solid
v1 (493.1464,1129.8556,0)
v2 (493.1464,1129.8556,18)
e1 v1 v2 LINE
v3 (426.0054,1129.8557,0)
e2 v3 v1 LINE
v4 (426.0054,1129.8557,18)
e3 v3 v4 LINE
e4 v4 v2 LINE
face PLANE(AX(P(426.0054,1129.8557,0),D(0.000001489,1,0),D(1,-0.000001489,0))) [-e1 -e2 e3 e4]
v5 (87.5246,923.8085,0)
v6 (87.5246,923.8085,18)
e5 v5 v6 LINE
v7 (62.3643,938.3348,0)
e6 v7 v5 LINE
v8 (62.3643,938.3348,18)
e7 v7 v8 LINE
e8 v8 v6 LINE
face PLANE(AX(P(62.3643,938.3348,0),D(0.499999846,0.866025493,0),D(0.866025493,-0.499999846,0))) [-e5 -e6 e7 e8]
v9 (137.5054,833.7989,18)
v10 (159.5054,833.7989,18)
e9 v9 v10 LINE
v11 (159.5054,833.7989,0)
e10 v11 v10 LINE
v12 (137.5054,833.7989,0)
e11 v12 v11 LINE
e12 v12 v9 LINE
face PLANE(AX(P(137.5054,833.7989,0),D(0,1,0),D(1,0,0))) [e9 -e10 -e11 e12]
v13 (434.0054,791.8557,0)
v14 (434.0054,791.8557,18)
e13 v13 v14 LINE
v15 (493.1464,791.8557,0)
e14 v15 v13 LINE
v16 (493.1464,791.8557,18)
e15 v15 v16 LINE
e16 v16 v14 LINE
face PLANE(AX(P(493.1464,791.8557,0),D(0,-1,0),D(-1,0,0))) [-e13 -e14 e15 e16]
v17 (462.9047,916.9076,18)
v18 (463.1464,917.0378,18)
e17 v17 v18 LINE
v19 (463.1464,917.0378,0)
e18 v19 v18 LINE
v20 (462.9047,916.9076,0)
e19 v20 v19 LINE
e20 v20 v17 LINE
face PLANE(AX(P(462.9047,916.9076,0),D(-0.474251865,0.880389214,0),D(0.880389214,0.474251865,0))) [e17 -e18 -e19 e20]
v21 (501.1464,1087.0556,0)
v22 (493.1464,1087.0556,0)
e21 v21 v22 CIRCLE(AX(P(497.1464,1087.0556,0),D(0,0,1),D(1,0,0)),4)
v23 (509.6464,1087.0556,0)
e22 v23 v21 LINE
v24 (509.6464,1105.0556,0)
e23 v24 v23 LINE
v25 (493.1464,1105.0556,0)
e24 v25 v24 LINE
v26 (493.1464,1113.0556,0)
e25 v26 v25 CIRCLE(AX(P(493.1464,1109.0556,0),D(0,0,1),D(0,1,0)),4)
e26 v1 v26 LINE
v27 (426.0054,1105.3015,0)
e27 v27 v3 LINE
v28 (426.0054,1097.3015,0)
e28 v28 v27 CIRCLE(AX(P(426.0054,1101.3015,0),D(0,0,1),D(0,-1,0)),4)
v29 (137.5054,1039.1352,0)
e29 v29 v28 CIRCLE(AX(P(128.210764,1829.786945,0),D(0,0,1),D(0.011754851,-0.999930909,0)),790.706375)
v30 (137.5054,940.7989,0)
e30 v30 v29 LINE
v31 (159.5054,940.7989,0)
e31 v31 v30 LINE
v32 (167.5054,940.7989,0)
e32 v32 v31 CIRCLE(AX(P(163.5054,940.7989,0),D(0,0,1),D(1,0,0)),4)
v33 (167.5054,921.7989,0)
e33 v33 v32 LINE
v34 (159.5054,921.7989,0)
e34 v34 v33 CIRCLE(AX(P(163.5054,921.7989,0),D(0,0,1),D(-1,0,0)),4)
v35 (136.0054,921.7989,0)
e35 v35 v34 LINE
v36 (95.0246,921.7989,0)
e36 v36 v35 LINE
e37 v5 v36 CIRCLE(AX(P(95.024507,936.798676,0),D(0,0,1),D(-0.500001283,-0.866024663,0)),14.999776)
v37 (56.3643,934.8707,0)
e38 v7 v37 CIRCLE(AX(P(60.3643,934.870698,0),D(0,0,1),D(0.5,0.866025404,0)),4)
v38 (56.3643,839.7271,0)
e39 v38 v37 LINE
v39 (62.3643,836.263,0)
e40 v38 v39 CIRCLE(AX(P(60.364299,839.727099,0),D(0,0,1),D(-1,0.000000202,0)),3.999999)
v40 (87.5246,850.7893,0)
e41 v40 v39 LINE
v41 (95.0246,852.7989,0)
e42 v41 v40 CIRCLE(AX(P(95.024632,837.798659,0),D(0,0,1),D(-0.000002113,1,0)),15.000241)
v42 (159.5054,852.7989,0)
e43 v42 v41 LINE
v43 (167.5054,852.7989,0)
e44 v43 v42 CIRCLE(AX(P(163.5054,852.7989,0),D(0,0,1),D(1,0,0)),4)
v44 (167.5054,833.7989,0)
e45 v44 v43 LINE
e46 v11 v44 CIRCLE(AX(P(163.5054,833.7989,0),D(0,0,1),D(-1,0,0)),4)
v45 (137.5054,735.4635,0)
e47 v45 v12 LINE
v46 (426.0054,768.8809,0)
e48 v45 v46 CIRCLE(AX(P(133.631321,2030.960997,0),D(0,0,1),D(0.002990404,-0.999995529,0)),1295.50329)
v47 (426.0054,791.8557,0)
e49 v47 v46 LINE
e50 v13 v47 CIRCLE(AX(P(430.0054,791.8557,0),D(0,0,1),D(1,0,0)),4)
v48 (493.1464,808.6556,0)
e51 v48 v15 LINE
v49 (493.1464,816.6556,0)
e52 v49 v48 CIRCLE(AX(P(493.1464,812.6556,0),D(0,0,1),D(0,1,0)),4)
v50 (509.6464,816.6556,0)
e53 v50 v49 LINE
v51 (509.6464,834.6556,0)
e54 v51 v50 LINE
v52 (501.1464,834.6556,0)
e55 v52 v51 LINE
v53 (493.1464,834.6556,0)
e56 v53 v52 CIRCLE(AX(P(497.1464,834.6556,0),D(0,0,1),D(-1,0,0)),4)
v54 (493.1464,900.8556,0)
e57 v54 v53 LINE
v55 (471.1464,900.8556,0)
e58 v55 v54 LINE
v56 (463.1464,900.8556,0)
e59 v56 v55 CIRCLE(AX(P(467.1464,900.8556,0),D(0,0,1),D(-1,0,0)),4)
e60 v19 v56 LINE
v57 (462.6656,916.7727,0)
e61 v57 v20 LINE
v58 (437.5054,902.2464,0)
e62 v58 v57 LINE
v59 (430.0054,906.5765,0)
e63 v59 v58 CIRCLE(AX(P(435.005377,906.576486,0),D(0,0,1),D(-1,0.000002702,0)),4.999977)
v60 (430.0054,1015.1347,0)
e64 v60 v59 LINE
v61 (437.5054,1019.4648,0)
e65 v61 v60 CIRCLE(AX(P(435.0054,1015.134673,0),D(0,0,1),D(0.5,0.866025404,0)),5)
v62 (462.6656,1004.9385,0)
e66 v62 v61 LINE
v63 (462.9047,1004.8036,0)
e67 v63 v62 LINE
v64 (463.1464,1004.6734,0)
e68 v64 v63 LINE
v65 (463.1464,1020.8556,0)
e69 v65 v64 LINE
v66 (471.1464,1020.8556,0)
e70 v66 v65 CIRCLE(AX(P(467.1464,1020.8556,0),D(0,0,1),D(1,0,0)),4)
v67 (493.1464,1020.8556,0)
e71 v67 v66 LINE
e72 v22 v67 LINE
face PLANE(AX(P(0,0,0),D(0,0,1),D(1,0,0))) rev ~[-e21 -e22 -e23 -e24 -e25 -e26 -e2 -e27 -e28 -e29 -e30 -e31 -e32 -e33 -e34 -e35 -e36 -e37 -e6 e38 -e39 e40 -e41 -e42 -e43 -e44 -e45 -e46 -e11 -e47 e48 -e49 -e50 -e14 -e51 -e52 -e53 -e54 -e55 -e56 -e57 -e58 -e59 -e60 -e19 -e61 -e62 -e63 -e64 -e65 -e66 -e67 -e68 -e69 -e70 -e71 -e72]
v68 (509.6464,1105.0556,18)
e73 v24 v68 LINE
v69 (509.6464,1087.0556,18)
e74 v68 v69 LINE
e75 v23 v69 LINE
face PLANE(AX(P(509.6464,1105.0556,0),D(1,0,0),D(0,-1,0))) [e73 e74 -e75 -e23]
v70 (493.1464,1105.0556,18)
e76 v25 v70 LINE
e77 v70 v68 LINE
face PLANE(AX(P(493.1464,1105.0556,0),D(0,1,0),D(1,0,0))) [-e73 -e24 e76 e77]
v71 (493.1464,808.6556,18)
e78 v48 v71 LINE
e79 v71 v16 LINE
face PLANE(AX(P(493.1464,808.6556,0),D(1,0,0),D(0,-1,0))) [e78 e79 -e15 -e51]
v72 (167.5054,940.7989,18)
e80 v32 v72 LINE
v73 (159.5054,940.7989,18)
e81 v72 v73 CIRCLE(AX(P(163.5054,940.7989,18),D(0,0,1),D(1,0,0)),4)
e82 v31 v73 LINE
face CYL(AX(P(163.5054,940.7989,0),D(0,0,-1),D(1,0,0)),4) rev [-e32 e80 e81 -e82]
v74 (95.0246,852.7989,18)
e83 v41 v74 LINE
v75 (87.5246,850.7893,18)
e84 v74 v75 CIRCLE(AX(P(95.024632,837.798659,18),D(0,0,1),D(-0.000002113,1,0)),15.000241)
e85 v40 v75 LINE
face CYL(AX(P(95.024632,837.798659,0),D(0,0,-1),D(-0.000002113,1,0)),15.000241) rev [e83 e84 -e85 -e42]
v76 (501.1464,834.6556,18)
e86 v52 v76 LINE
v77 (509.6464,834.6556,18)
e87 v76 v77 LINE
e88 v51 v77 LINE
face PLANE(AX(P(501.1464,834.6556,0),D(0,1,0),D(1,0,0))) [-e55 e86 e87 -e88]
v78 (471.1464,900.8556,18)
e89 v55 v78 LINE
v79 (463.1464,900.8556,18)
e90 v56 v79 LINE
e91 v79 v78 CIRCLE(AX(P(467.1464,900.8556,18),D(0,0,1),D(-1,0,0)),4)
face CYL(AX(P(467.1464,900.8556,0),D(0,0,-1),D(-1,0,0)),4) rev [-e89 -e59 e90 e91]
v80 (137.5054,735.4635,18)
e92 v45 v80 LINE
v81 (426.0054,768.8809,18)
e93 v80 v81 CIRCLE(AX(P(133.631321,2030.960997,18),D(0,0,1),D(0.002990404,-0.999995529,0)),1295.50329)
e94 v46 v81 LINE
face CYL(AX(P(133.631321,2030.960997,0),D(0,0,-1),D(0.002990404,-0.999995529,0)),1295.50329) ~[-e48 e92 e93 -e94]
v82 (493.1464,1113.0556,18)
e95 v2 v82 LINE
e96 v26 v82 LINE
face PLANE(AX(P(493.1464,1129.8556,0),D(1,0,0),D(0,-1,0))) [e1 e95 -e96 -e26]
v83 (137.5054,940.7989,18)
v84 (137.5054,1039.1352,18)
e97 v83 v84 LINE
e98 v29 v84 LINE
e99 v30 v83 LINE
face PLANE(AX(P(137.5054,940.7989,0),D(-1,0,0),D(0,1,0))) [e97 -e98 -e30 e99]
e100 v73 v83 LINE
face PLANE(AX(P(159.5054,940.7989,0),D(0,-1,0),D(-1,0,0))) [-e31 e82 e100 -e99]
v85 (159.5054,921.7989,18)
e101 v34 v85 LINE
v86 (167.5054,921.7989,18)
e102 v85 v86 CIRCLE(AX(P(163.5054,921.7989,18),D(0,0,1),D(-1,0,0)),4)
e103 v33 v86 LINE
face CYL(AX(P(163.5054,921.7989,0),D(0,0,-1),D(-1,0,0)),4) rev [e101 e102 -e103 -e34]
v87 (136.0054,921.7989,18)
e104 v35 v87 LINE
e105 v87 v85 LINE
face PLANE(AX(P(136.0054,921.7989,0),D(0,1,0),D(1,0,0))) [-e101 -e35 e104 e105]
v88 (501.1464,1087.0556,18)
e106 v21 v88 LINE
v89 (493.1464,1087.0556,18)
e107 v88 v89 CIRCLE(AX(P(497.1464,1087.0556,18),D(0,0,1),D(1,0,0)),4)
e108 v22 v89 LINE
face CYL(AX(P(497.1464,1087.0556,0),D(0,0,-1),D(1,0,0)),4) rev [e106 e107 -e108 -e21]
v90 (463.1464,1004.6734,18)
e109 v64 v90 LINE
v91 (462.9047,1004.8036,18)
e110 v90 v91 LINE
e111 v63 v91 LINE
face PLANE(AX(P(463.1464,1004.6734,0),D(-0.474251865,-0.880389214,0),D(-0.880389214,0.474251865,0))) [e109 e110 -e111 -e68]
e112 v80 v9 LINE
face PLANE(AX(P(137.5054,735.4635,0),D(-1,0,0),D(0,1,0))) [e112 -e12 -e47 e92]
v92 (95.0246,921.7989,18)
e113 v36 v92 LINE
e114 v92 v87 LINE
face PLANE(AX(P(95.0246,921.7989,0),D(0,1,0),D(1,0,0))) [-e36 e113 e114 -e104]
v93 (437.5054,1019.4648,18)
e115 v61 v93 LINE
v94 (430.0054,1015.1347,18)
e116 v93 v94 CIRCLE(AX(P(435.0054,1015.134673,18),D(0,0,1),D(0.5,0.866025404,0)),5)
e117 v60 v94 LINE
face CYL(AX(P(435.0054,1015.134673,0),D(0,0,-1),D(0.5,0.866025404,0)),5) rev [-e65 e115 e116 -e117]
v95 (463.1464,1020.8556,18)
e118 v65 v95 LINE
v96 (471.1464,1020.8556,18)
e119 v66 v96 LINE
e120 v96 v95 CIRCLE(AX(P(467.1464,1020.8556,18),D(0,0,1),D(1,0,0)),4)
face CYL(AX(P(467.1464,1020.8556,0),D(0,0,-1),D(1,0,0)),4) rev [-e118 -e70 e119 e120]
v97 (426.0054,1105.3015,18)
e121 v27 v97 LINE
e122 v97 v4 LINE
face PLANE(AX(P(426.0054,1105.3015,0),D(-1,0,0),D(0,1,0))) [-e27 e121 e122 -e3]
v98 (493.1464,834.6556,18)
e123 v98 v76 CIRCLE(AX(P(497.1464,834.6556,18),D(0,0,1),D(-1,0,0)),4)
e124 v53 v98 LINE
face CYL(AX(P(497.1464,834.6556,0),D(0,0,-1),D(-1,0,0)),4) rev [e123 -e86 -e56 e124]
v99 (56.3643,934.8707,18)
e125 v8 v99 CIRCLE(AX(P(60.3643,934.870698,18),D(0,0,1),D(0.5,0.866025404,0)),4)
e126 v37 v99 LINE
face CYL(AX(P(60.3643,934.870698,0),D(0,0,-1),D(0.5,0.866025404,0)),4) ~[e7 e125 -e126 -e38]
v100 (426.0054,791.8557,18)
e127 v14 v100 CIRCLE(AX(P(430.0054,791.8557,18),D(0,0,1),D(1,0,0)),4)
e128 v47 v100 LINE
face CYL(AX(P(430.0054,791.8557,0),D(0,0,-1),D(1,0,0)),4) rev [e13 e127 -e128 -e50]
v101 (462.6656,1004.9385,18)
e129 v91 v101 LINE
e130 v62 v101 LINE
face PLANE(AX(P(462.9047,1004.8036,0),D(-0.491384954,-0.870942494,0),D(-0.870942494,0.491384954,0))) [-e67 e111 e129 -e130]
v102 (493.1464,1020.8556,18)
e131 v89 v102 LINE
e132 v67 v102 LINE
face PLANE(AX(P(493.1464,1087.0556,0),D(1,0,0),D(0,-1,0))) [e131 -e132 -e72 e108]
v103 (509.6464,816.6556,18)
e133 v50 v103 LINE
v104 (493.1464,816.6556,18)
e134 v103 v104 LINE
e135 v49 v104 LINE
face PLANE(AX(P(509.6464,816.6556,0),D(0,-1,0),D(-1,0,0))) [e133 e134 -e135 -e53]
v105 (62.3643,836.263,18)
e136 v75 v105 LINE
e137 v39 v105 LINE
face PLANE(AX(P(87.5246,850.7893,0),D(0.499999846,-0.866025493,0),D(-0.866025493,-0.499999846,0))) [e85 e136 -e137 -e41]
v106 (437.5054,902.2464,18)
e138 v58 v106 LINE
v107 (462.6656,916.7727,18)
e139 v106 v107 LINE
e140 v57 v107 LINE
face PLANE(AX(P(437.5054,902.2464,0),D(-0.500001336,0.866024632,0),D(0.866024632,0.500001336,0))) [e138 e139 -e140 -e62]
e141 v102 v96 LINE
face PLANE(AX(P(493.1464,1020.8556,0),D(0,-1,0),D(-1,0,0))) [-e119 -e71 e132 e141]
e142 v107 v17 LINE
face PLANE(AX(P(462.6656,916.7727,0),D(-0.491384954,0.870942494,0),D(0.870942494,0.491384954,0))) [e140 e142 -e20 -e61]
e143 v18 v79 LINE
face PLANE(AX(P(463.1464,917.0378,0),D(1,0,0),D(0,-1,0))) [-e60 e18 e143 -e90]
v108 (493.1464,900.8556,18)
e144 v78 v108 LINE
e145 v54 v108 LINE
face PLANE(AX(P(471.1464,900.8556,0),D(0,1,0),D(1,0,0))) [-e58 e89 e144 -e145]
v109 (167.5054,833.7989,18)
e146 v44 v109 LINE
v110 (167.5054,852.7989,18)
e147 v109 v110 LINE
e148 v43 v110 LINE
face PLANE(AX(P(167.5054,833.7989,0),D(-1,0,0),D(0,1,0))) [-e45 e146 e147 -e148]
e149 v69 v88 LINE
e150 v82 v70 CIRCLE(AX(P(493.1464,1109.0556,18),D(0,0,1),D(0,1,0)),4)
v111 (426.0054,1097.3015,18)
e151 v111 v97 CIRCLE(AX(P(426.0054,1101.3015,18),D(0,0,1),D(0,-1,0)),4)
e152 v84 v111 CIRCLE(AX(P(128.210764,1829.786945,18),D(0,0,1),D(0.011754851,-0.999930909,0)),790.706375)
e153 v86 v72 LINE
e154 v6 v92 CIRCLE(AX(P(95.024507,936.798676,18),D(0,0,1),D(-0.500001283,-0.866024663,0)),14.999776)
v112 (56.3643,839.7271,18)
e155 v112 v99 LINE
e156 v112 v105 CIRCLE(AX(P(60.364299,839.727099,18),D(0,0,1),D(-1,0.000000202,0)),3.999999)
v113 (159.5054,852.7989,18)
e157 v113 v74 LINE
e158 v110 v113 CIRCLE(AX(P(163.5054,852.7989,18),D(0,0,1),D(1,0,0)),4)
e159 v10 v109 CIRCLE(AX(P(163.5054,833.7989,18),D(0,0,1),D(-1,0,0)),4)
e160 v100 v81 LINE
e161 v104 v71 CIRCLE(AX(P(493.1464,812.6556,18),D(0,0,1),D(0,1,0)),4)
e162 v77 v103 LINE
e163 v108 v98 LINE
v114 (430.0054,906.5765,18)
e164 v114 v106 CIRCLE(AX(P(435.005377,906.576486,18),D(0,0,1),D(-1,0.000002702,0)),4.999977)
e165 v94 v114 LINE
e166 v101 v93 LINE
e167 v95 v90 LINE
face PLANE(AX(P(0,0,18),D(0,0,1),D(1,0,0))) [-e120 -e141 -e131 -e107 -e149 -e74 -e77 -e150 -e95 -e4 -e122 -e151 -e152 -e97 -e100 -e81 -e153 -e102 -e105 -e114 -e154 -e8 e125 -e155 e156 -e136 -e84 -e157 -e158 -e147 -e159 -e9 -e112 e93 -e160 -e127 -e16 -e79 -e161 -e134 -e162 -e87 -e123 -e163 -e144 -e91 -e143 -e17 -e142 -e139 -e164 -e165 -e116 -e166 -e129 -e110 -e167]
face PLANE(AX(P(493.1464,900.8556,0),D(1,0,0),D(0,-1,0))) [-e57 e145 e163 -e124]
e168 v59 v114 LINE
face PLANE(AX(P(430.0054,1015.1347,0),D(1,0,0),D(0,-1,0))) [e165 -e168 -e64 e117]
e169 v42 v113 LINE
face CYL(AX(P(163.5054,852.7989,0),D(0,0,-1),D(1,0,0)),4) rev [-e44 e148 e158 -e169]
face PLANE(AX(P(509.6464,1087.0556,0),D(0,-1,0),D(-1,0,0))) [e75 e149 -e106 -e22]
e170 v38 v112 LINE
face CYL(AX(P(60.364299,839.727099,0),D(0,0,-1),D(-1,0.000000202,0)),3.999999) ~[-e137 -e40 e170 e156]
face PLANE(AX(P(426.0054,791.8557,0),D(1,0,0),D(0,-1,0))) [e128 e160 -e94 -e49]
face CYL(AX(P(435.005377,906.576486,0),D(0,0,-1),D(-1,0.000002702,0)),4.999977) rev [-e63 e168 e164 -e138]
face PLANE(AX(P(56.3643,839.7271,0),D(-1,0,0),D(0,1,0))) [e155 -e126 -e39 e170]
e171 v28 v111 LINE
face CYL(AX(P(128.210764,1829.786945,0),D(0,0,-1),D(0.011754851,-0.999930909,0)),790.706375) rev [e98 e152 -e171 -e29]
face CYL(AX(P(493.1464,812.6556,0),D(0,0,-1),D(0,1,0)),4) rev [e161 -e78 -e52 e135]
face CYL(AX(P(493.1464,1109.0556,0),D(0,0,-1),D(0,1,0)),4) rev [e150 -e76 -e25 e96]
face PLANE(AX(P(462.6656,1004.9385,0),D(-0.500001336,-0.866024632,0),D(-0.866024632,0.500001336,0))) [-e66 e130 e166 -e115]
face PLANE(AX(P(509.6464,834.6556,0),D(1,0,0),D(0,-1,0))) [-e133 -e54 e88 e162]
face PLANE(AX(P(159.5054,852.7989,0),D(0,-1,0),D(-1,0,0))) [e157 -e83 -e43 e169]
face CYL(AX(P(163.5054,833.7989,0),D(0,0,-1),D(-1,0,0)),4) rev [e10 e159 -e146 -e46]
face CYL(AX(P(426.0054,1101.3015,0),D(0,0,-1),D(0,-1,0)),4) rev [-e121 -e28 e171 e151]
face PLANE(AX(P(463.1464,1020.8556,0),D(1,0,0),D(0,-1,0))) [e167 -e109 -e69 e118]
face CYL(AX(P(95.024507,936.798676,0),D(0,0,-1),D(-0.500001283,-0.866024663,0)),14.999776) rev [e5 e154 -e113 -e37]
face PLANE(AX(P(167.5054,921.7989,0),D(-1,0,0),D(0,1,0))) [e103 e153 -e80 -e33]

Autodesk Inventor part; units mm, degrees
ref_plane "YZ Plane" through (0, 0, 0) normal (1, 0, 0) x (0, 1, 0)
ref_plane "XZ Plane" through (0, 0, 0) normal (0, 1, 0) x (-1, 0, 0)
ref_plane "XY Plane" through (0, 0, 0) normal (0, 0, 1) x (1, 0, 0)
sketch "CONTOURS" plane through (0, 0, 0) normal (0, 0, 1) x (1, 0, 0)
  arc A0 (167.5054, 852.7989) -> (159.5054, 852.7989) centre (163.5054, 852.7989) ccw
  line L0 (159.5054, 852.7989) -> (95.0246, 852.7989)
  arc A1 (95.0246, 852.7989) -> (87.5246, 850.7893) centre (95.0246, 837.7989) ccw
  line L1 (87.5246, 850.7893) -> (62.3643, 836.263)
  arc A2 (56.3643, 839.7271) -> (62.3643, 836.263) centre (60.3643, 839.7271) ccw
  line L2 (56.3643, 839.7271) -> (56.3643, 934.8707)
  arc A3 (62.3643, 938.3348) -> (56.3643, 934.8707) centre (60.3643, 934.8707) ccw
  line L3 (62.3643, 938.3348) -> (87.5246, 923.8085)
  arc A4 (87.5246, 923.8085) -> (95.0246, 921.7989) centre (95.0246, 936.7989) ccw
  line L4 (95.0246, 921.7989) -> (136.0054, 921.7989)
  line L5 (136.0054, 921.7989) -> (159.5054, 921.7989)
  arc A5 (159.5054, 921.7989) -> (167.5054, 921.7989) centre (163.5054, 921.7989) ccw
  line L6 (167.5054, 921.7989) -> (167.5054, 940.7989)
  arc A6 (167.5054, 940.7989) -> (159.5054, 940.7989) centre (163.5054, 940.7989) ccw
  line L7 (159.5054, 940.7989) -> (137.5054, 940.7989)
  line L8 (137.5054, 940.7989) -> (137.5054, 1039.1352)
  arc A7 (137.5054, 1039.1352) -> (426.0054, 1097.3015) centre (128.2106, 1829.7885) ccw
  arc A8 (426.0054, 1097.3015) -> (426.0054, 1105.3015) centre (426.0054, 1101.3015) ccw
  line L9 (426.0054, 1105.3015) -> (426.0054, 1129.8557)
  line L10 (426.0054, 1129.8557) -> (493.1464, 1129.8556)
  line L11 (493.1464, 1129.8556) -> (493.1464, 1113.0556)
  arc A9 (493.1464, 1113.0556) -> (493.1464, 1105.0556) centre (493.1464, 1109.0556) ccw
  line L12 (493.1464, 1105.0556) -> (509.6464, 1105.0556)
  line L13 (509.6464, 1105.0556) -> (509.6464, 1087.0556)
  line L14 (509.6464, 1087.0556) -> (501.1464, 1087.0556)
  arc A10 (501.1464, 1087.0556) -> (493.1464, 1087.0556) centre (497.1464, 1087.0556) ccw
  line L15 (493.1464, 1087.0556) -> (493.1464, 1020.8556)
  line L16 (493.1464, 1020.8556) -> (471.1464, 1020.8556)
  arc A11 (471.1464, 1020.8556) -> (463.1464, 1020.8556) centre (467.1464, 1020.8556) ccw
  line L17 (463.1464, 1020.8556) -> (463.1464, 1004.6734)
  line L18 (463.1464, 1004.6734) -> (462.9047, 1004.8036)
  line L19 (462.9047, 1004.8036) -> (462.6656, 1004.9385)
  line L20 (462.6656, 1004.9385) -> (437.5054, 1019.4648)
  arc A12 (437.5054, 1019.4648) -> (430.0054, 1015.1347) centre (435.0054, 1015.1347) ccw
  line L21 (430.0054, 1015.1347) -> (430.0054, 906.5765)
  arc A13 (430.0054, 906.5765) -> (437.5054, 902.2464) centre (435.0054, 906.5765) ccw
  line L22 (437.5054, 902.2464) -> (462.6656, 916.7727)
  line L23 (462.6656, 916.7727) -> (462.9047, 916.9076)
  line L24 (462.9047, 916.9076) -> (463.1464, 917.0378)
  line L25 (463.1464, 917.0378) -> (463.1464, 900.8556)
  arc A14 (463.1464, 900.8556) -> (471.1464, 900.8556) centre (467.1464, 900.8556) ccw
  line L26 (471.1464, 900.8556) -> (493.1464, 900.8556)
  line L27 (493.1464, 900.8556) -> (493.1464, 834.6556)
  arc A15 (493.1464, 834.6556) -> (501.1464, 834.6556) centre (497.1464, 834.6556) ccw
  line L28 (501.1464, 834.6556) -> (509.6464, 834.6556)
  line L29 (509.6464, 834.6556) -> (509.6464, 816.6556)
  line L30 (509.6464, 816.6556) -> (493.1464, 816.6556)
  arc A16 (493.1464, 816.6556) -> (493.1464, 808.6556) centre (493.1464, 812.6556) ccw
  line L31 (493.1464, 808.6556) -> (493.1464, 791.8557)
  line L32 (493.1464, 791.8557) -> (434.0054, 791.8557)
  arc A17 (434.0054, 791.8557) -> (426.0054, 791.8557) centre (430.0054, 791.8557) ccw
  line L33 (426.0054, 791.8557) -> (426.0054, 768.8809)
  arc A18 (137.5054, 735.4635) -> (426.0054, 768.8809) centre (133.6317, 2030.9546) ccw
  line L34 (137.5054, 735.4635) -> (137.5054, 833.7989)
  line L35 (137.5054, 833.7989) -> (159.5054, 833.7989)
  arc A19 (159.5054, 833.7989) -> (167.5054, 833.7989) centre (163.5054, 833.7989) ccw
  line L36 (167.5054, 833.7989) -> (167.5054, 852.7989)
sketch "LETTERS" plane through (0, 0, 0) normal (0, 0, 1) x (1, 0, 0)
  line L0 (285.7416, 916.5238) -> (285.9594, 916.4912)
  line L1 (285.9594, 916.4912) -> (286.1742, 916.4519)
  line L2 (286.1742, 916.4519) -> (286.386, 916.4061)
  line L3 (286.386, 916.4061) -> (286.5947, 916.3537)
  line L4 (286.5947, 916.3537) -> (286.8003, 916.2951)
  line L5 (286.8003, 916.2951) -> (287.0028, 916.2304)
  line L6 (287.0028, 916.2304) -> (287.2021, 916.1595)
  line L7 (287.2021, 916.1595) -> (287.3982, 916.0828)
  line L8 (287.3982, 916.0828) -> (287.5911, 916.0003)
  line L9 (287.5911, 916.0003) -> (287.7807, 915.9122)
  line L10 (287.7807, 915.9122) -> (287.967, 915.8185)
  line L11 (287.967, 915.8185) -> (288.1499, 915.7195)
  line L12 (288.1499, 915.7195) -> (288.3295, 915.6152)
  line L13 (288.3295, 915.6152) -> (288.5057, 915.5058)
  line L14 (288.5057, 915.5058) -> (288.6784, 915.3914)
  line L15 (288.6784, 915.3914) -> (288.8477, 915.2722)
  line L16 (288.8477, 915.2722) -> (289.0135, 915.1482)
  line L17 (289.0135, 915.1482) -> (289.1757, 915.0197)
  line L18 (289.1757, 915.0197) -> (289.3343, 914.8867)
  line L19 (289.3343, 914.8867) -> (289.4894, 914.7494)
  line L20 (289.4894, 914.7494) -> (289.6408, 914.6079)
  line L21 (289.6408, 914.6079) -> (289.7885, 914.4624)
  line L22 (289.7885, 914.4624) -> (289.9325, 914.3129)
  line L23 (289.9325, 914.3129) -> (290.0728, 914.1596)
  line L24 (290.0728, 914.1596) -> (290.2093, 914.0027)
  line L25 (290.2093, 914.0027) -> (290.3419, 913.8423)
  line L26 (290.3419, 913.8423) -> (290.4708, 913.6784)
  line L27 (290.4708, 913.6784) -> (290.5957, 913.5113)
  line L28 (290.5957, 913.5113) -> (290.7168, 913.3411)
  line L29 (290.7168, 913.3411) -> (290.8339, 913.1679)
  line L30 (290.8339, 913.1679) -> (290.947, 912.9918)
  line L31 (290.947, 912.9918) -> (291.0561, 912.813)
  line L32 (291.0561, 912.813) -> (291.1611, 912.6315)
  line L33 (291.1611, 912.6315) -> (291.2621, 912.4476)
  line L34 (291.2621, 912.4476) -> (291.359, 912.2614)
  line L35 (291.359, 912.2614) -> (291.4517, 912.073)
  line L36 (291.4517, 912.073) -> (291.5402, 911.8825)
  line L37 (291.5402, 911.8825) -> (291.6245, 911.69)
  line L38 (291.6245, 911.69) -> (291.7046, 911.4958)
  line L39 (291.7046, 911.4958) -> (291.7803, 911.2999)
  line L40 (291.7803, 911.2999) -> (291.8518, 911.1024)
  line L41 (291.8518, 911.1024) -> (291.9189, 910.9035)
  line L42 (291.9189, 910.9035) -> (291.9816, 910.7034)
  line L43 (291.9816, 910.7034) -> (292.0399, 910.5021)
  line L44 (292.0399, 910.5021) -> (292.0938, 910.2998)
  line L45 (292.0938, 910.2998) -> (292.1431, 910.0966)
  line L46 (292.1431, 910.0966) -> (292.1879, 909.8927)
  line L47 (292.1879, 909.8927) -> (292.2282, 909.6881)
  line L48 (292.2282, 909.6881) -> (292.2639, 909.4831)
  line L49 (292.2639, 909.4831) -> (292.295, 909.2777)
  line L50 (292.295, 909.2777) -> (292.3214, 909.0721)
  line L51 (292.3214, 909.0721) -> (292.3431, 908.8665)
  line L52 (292.3431, 908.8665) -> (292.3601, 908.6608)
  line L53 (292.3601, 908.6608) -> (292.3724, 908.4554)
  line L54 (292.3724, 908.4554) -> (292.3798, 908.2502)
  line L55 (292.3798, 908.2502) -> (292.3825, 908.0455)
  line L56 (292.3825, 908.0455) -> (292.3802, 907.8414)
  line L57 (292.3802, 907.8414) -> (292.3731, 907.638)
  line L58 (292.3731, 907.638) -> (292.3611, 907.4354)
  line L59 (292.3611, 907.4354) -> (292.3441, 907.2338)
  line L60 (292.3441, 907.2338) -> (292.3221, 907.0333)
  line L61 (292.3221, 907.0333) -> (292.295, 906.834)
  line L62 (292.295, 906.834) -> (292.2629, 906.6361)
  line L63 (292.2629, 906.6361) -> (292.2257, 906.4397)
  line L64 (292.2257, 906.4397) -> (292.1834, 906.2449)
  line L65 (292.1834, 906.2449) -> (292.1361, 906.0518)
  line L66 (292.1361, 906.0518) -> (292.0838, 905.8604)
  line L67 (292.0838, 905.8604) -> (292.0265, 905.6708)
  line L68 (292.0265, 905.6708) -> (291.9645, 905.483)
  line L69 (291.9645, 905.483) -> (291.8977, 905.297)
  line L70 (291.8977, 905.297) -> (291.8263, 905.1128)
  line L71 (291.8263, 905.1128) -> (291.7502, 904.9306)
  line L72 (291.7502, 904.9306) -> (291.6697, 904.7503)
  line L73 (291.6697, 904.7503) -> (291.5847, 904.5721)
  line L74 (291.5847, 904.5721) -> (291.4954, 904.3958)
  line L75 (291.4954, 904.3958) -> (291.4018, 904.2217)
  line L76 (291.4018, 904.2217) -> (291.304, 904.0496)
  line L77 (291.304, 904.0496) -> (291.2021, 903.8797)
  line L78 (291.2021, 903.8797) -> (291.0961, 903.712)
  line L79 (291.0961, 903.712) -> (290.9861, 903.5465)
  line L80 (290.9861, 903.5465) -> (290.8723, 903.3833)
  line L81 (290.8723, 903.3833) -> (290.7547, 903.2224)
  line L82 (290.7547, 903.2224) -> (290.6333, 903.0638)
  line L83 (290.6333, 903.0638) -> (290.5083, 902.9077)
  line L84 (290.5083, 902.9077) -> (290.3797, 902.754)
  line L85 (290.3797, 902.754) -> (290.2476, 902.6027)
  line L86 (290.2476, 902.6027) -> (290.112, 902.454)
  line L87 (290.112, 902.454) -> (289.9732, 902.3078)
  line L88 (289.9732, 902.3078) -> (289.831, 902.1642)
  line L89 (289.831, 902.1642) -> (289.6857, 902.0232)
  line L90 (289.6857, 902.0232) -> (289.5372, 901.8849)
  line L91 (289.5372, 901.8849) -> (289.3857, 901.7493)
  line L92 (289.3857, 901.7493) -> (289.2313, 901.6165)
  line L93 (289.2313, 901.6165) -> (289.0739, 901.4864)
  line L94 (289.0739, 901.4864) -> (288.9138, 901.3592)
  line L95 (288.9138, 901.3592) -> (288.7509, 901.2348)
  line L96 (288.7509, 901.2348) -> (288.5854, 901.1134)
  line L97 (288.5854, 901.1134) -> (288.4173, 900.9949)
  line L98 (288.4173, 900.9949) -> (288.2468, 900.8794)
  line L99 (288.2468, 900.8794) -> (288.0738, 900.7669)
  line L100 (288.0738, 900.7669) -> (287.8984, 900.6575)
  line L101 (287.8984, 900.6575) -> (287.7208, 900.5512)
  line L102 (287.7208, 900.5512) -> (287.5411, 900.448)
  line L103 (287.5411, 900.448) -> (287.3592, 900.348)
  line L104 (287.3592, 900.348) -> (287.1753, 900.2513)
  line L105 (287.1753, 900.2513) -> (286.9894, 900.1578)
  line L106 (286.9894, 900.1578) -> (286.8017, 900.0677)
  line L107 (286.8017, 900.0677) -> (286.6121, 899.9808)
  line L108 (286.6121, 899.9808) -> (286.4209, 899.8974)
  line L109 (286.228, 899.8174) -> (286.0335, 899.7409)
  line L110 (286.0335, 899.7409) -> (285.8375, 899.6679)
  line L111 (285.8375, 899.6679) -> (285.6402, 899.5984)
  line L112 (285.6402, 899.5984) -> (285.4415, 899.5325)
  line L113 (285.4415, 899.5325) -> (285.2415, 899.4703)
  line L114 (285.2415, 899.4703) -> (285.0404, 899.4117)
  line L115 (285.0404, 899.4117) -> (284.8382, 899.3568)
  line L116 (284.8382, 899.3568) -> (284.635, 899.3057)
  line L117 (284.635, 899.3057) -> (284.4308, 899.2583)
  line L118 (284.4308, 899.2583) -> (284.2257, 899.2148)
  line L119 (284.2257, 899.2148) -> (284.0199, 899.1751)
  line L120 (284.0199, 899.1751) -> (283.8133, 899.1394)
  line L121 (283.8133, 899.1394) -> (283.6061, 899.1076)
  line L122 (283.6061, 899.1076) -> (283.3984, 899.0797)
  line L123 (283.3984, 899.0797) -> (283.1902, 899.0559)
  line L124 (283.1902, 899.0559) -> (282.9815, 899.0362)
  line L125 (282.9815, 899.0362) -> (282.7726, 899.0206)
  line L126 (282.7726, 899.0206) -> (282.5634, 899.0091)
  line L127 (282.5634, 899.0091) -> (282.354, 899.0018)
  line L128 (282.354, 899.0018) -> (282.1446, 898.9986)
  line L129 (282.1446, 898.9986) -> (281.9351, 898.9995)
  line L130 (281.9351, 898.9995) -> (281.7257, 899.0046)
  line L131 (281.7257, 899.0046) -> (281.5165, 899.0137)
  line L132 (281.5165, 899.0137) -> (281.3075, 899.0268)
  line L133 (281.3075, 899.0268) -> (281.0987, 899.0439)
  line L134 (281.0987, 899.0439) -> (280.8904, 899.065)
  line L135 (280.8904, 899.065) -> (280.6825, 899.09)
  line L136 (280.6825, 899.09) -> (280.4751, 899.1189)
  line L137 (280.4751, 899.1189) -> (280.2683, 899.1517)
  line L138 (280.2683, 899.1517) -> (280.0623, 899.1883)
  line L139 (280.0623, 899.1883) -> (279.8569, 899.2287)
  line L140 (279.8569, 899.2287) -> (279.6525, 899.2729)
  line L141 (279.6525, 899.2729) -> (279.4489, 899.3208)
  line L142 (279.4489, 899.3208) -> (279.2464, 899.3724)
  line L143 (279.2464, 899.3724) -> (279.0449, 899.4277)
  line L144 (279.0449, 899.4277) -> (278.8446, 899.4866)
  line L145 (278.8446, 899.4866) -> (278.6455, 899.5491)
  line L146 (278.6455, 899.5491) -> (278.4478, 899.6153)
  line L147 (278.4478, 899.6153) -> (278.2514, 899.6849)
  line L148 (278.2514, 899.6849) -> (278.0565, 899.7581)
  line L149 (278.0565, 899.7581) -> (277.8631, 899.8348)
  line L150 (277.8631, 899.8348) -> (277.6714, 899.9149)
  line L151 (277.6714, 899.9149) -> (277.4813, 899.9985)
  line L152 (277.4813, 899.9985) -> (277.2931, 900.0854)
  line L153 (277.2931, 900.0854) -> (277.1067, 900.1757)
  line L154 (277.1067, 900.1757) -> (276.9222, 900.2693)
  line L155 (276.9222, 900.2693) -> (276.7397, 900.3662)
  line L156 (276.7397, 900.3662) -> (276.5594, 900.4664)
  line L157 (276.5594, 900.4664) -> (276.3812, 900.5698)
  line L158 (276.3812, 900.5698) -> (276.2052, 900.6764)
  line L159 (276.2052, 900.6764) -> (276.0316, 900.7861)
  line L160 (276.0316, 900.7861) -> (275.8604, 900.899)
  line L161 (275.8604, 900.899) -> (275.6916, 901.015)
  line L162 (275.6916, 901.015) -> (275.5254, 901.1341)
  line L163 (275.5254, 901.1341) -> (275.3619, 901.2562)
  line L164 (275.3619, 901.2562) -> (275.201, 901.3813)
  line L165 (275.201, 901.3813) -> (275.043, 901.5094)
  line L166 (275.043, 901.5094) -> (274.8878, 901.6405)
  line L167 (274.8878, 901.6405) -> (274.7355, 901.7744)
  line L168 (274.7355, 901.7744) -> (274.5863, 901.9113)
  line L169 (274.5863, 901.9113) -> (274.4402, 902.0509)
  line L170 (274.4402, 902.0509) -> (274.2973, 902.1934)
  line L171 (274.2973, 902.1934) -> (274.1576, 902.3387)
  line L172 (274.1576, 902.3387) -> (274.0213, 902.4868)
  line L173 (274.0213, 902.4868) -> (273.8883, 902.6375)
  line L174 (273.8883, 902.6375) -> (273.7589, 902.791)
  line L175 (273.7589, 902.791) -> (273.633, 902.9471)
  line L176 (273.633, 902.9471) -> (273.5108, 903.1058)
  line L177 (273.5108, 903.1058) -> (273.3923, 903.2671)
  line L178 (273.3923, 903.2671) -> (273.2777, 903.431)
  line L179 (273.2777, 903.431) -> (273.1669, 903.5974)
  line L180 (273.1669, 903.5974) -> (273.06, 903.7664)
  line L181 (273.06, 903.7664) -> (272.9572, 903.9378)
  line L182 (272.9572, 903.9378) -> (272.8585, 904.1116)
  line L183 (272.8585, 904.1116) -> (272.764, 904.2878)
  line L184 (272.764, 904.2878) -> (272.6738, 904.4664)
  line L185 (272.6738, 904.4664) -> (272.5879, 904.6473)
  line L186 (272.5879, 904.6473) -> (272.5065, 904.8306)
  line L187 (272.5065, 904.8306) -> (272.4295, 905.0161)
  line L188 (272.4295, 905.0161) -> (272.3572, 905.2039)
  line L189 (272.3572, 905.2039) -> (272.2895, 905.3938)
  line L190 (272.2895, 905.3938) -> (272.2265, 905.586)
  line L191 (272.2265, 905.586) -> (272.1683, 905.7803)
  line L192 (272.1683, 905.7803) -> (272.115, 905.9766)
  line L193 (272.115, 905.9766) -> (272.0664, 906.1748)
  line L194 (272.0664, 906.1748) -> (272.0226, 906.3747)
  line L195 (272.0226, 906.3747) -> (271.9836, 906.5761)
  line L196 (271.9836, 906.5761) -> (271.9493, 906.7791)
  line L197 (271.9493, 906.7791) -> (271.9198, 906.9833)
  line L198 (271.9198, 906.9833) -> (271.8949, 907.1887)
  line L199 (271.8949, 907.1887) -> (271.8748, 907.3951)
  line L200 (271.8748, 907.3951) -> (271.8594, 907.6024)
  line L201 (271.8594, 907.6024) -> (271.8487, 907.8104)
  line L202 (271.8487, 907.8104) -> (271.8426, 908.019)
  line L203 (271.8426, 908.019) -> (271.8413, 908.2281)
  line L204 (271.8413, 908.2281) -> (271.8445, 908.4375)
  line L205 (271.8445, 908.4375) -> (271.8524, 908.6471)
  line L206 (271.8524, 908.6471) -> (271.8649, 908.8567)
  line L207 (271.8649, 908.8567) -> (271.882, 909.0662)
  line L208 (271.882, 909.0662) -> (271.9037, 909.2754)
  line L209 (271.9037, 909.2754) -> (271.93, 909.4843)
  line L210 (271.93, 909.4843) -> (271.9609, 909.6926)
  line L211 (271.9609, 909.6926) -> (271.9963, 909.9003)
  line L212 (271.9963, 909.9003) -> (272.0363, 910.1071)
  line L213 (272.0363, 910.1071) -> (272.0807, 910.313)
  line L214 (272.0807, 910.313) -> (272.1298, 910.5178)
  line L215 (272.1298, 910.5178) -> (272.1833, 910.7213)
  line L216 (272.1833, 910.7213) -> (272.2412, 910.9235)
  line L217 (272.2412, 910.9235) -> (272.3037, 911.1242)
  line L218 (272.3037, 911.1242) -> (272.3706, 911.3232)
  line L219 (272.3706, 911.3232) -> (272.442, 911.5204)
  line L220 (272.442, 911.5204) -> (272.5179, 911.7157)
  line L221 (272.5179, 911.7157) -> (272.5981, 911.9089)
  line L222 (272.5981, 911.9089) -> (272.6828, 912.0998)
  line L223 (272.6828, 912.0998) -> (272.7718, 912.2884)
  line L224 (272.7718, 912.2884) -> (272.8652, 912.4745)
  line L225 (272.8652, 912.4745) -> (272.9631, 912.6579)
  line L226 (272.9631, 912.6579) -> (273.0652, 912.8386)
  line L227 (273.0652, 912.8386) -> (273.1717, 913.0163)
  line L228 (273.1717, 913.0163) -> (273.2826, 913.191)
  line L229 (273.2826, 913.191) -> (273.3978, 913.3624)
  line L230 (273.3978, 913.3624) -> (273.5172, 913.5305)
  line L231 (273.5172, 913.5305) -> (273.641, 913.6951)
  line L232 (273.641, 913.6951) -> (273.7691, 913.8561)
  line L233 (273.7691, 913.8561) -> (273.9014, 914.0133)
  line L234 (273.9014, 914.0133) -> (274.038, 914.1666)
  line L235 (274.038, 914.1666) -> (274.1788, 914.3158)
  line L236 (274.1788, 914.3158) -> (274.3238, 914.4608)
  line L237 (274.3238, 914.4608) -> (274.4731, 914.6015)
  line L238 (274.4731, 914.6015) -> (274.6265, 914.7377)
  line L239 (274.6265, 914.7377) -> (274.7842, 914.8693)
  line L240 (274.7842, 914.8693) -> (274.946, 914.9961)
  line L241 (274.946, 914.9961) -> (275.112, 915.118)
  line L242 (275.112, 915.118) -> (275.2821, 915.2349)
  line L243 (275.2821, 915.2349) -> (275.4564, 915.3466)
  line L244 (275.4564, 915.3466) -> (275.6348, 915.453)
  line L245 (275.6348, 915.453) -> (275.8173, 915.5538)
  line L246 (275.8173, 915.5538) -> (276.0039, 915.6491)
  line L247 (276.0039, 915.6491) -> (276.1946, 915.7387)
  line L248 (276.1946, 915.7387) -> (276.3894, 915.8223)
  line L249 (276.3894, 915.8223) -> (276.5882, 915.8999)
  line L250 (276.5882, 915.8999) -> (276.7911, 915.9713)
  line L251 (276.7911, 915.9713) -> (276.998, 916.0365)
  line L252 (276.998, 916.0365) -> (277.2089, 916.0951)
  line L253 (277.2089, 916.0951) -> (277.4238, 916.1472)
  line L254 (277.4238, 916.1472) -> (277.6428, 916.1925)
  line L255 (286.4209, 899.8974) -> (286.228, 899.8174)
extrude "Extrusion1" add sketch "CONTOURS" along normal blind 18
properties part number "Support C" material "Wood (Birch)"
